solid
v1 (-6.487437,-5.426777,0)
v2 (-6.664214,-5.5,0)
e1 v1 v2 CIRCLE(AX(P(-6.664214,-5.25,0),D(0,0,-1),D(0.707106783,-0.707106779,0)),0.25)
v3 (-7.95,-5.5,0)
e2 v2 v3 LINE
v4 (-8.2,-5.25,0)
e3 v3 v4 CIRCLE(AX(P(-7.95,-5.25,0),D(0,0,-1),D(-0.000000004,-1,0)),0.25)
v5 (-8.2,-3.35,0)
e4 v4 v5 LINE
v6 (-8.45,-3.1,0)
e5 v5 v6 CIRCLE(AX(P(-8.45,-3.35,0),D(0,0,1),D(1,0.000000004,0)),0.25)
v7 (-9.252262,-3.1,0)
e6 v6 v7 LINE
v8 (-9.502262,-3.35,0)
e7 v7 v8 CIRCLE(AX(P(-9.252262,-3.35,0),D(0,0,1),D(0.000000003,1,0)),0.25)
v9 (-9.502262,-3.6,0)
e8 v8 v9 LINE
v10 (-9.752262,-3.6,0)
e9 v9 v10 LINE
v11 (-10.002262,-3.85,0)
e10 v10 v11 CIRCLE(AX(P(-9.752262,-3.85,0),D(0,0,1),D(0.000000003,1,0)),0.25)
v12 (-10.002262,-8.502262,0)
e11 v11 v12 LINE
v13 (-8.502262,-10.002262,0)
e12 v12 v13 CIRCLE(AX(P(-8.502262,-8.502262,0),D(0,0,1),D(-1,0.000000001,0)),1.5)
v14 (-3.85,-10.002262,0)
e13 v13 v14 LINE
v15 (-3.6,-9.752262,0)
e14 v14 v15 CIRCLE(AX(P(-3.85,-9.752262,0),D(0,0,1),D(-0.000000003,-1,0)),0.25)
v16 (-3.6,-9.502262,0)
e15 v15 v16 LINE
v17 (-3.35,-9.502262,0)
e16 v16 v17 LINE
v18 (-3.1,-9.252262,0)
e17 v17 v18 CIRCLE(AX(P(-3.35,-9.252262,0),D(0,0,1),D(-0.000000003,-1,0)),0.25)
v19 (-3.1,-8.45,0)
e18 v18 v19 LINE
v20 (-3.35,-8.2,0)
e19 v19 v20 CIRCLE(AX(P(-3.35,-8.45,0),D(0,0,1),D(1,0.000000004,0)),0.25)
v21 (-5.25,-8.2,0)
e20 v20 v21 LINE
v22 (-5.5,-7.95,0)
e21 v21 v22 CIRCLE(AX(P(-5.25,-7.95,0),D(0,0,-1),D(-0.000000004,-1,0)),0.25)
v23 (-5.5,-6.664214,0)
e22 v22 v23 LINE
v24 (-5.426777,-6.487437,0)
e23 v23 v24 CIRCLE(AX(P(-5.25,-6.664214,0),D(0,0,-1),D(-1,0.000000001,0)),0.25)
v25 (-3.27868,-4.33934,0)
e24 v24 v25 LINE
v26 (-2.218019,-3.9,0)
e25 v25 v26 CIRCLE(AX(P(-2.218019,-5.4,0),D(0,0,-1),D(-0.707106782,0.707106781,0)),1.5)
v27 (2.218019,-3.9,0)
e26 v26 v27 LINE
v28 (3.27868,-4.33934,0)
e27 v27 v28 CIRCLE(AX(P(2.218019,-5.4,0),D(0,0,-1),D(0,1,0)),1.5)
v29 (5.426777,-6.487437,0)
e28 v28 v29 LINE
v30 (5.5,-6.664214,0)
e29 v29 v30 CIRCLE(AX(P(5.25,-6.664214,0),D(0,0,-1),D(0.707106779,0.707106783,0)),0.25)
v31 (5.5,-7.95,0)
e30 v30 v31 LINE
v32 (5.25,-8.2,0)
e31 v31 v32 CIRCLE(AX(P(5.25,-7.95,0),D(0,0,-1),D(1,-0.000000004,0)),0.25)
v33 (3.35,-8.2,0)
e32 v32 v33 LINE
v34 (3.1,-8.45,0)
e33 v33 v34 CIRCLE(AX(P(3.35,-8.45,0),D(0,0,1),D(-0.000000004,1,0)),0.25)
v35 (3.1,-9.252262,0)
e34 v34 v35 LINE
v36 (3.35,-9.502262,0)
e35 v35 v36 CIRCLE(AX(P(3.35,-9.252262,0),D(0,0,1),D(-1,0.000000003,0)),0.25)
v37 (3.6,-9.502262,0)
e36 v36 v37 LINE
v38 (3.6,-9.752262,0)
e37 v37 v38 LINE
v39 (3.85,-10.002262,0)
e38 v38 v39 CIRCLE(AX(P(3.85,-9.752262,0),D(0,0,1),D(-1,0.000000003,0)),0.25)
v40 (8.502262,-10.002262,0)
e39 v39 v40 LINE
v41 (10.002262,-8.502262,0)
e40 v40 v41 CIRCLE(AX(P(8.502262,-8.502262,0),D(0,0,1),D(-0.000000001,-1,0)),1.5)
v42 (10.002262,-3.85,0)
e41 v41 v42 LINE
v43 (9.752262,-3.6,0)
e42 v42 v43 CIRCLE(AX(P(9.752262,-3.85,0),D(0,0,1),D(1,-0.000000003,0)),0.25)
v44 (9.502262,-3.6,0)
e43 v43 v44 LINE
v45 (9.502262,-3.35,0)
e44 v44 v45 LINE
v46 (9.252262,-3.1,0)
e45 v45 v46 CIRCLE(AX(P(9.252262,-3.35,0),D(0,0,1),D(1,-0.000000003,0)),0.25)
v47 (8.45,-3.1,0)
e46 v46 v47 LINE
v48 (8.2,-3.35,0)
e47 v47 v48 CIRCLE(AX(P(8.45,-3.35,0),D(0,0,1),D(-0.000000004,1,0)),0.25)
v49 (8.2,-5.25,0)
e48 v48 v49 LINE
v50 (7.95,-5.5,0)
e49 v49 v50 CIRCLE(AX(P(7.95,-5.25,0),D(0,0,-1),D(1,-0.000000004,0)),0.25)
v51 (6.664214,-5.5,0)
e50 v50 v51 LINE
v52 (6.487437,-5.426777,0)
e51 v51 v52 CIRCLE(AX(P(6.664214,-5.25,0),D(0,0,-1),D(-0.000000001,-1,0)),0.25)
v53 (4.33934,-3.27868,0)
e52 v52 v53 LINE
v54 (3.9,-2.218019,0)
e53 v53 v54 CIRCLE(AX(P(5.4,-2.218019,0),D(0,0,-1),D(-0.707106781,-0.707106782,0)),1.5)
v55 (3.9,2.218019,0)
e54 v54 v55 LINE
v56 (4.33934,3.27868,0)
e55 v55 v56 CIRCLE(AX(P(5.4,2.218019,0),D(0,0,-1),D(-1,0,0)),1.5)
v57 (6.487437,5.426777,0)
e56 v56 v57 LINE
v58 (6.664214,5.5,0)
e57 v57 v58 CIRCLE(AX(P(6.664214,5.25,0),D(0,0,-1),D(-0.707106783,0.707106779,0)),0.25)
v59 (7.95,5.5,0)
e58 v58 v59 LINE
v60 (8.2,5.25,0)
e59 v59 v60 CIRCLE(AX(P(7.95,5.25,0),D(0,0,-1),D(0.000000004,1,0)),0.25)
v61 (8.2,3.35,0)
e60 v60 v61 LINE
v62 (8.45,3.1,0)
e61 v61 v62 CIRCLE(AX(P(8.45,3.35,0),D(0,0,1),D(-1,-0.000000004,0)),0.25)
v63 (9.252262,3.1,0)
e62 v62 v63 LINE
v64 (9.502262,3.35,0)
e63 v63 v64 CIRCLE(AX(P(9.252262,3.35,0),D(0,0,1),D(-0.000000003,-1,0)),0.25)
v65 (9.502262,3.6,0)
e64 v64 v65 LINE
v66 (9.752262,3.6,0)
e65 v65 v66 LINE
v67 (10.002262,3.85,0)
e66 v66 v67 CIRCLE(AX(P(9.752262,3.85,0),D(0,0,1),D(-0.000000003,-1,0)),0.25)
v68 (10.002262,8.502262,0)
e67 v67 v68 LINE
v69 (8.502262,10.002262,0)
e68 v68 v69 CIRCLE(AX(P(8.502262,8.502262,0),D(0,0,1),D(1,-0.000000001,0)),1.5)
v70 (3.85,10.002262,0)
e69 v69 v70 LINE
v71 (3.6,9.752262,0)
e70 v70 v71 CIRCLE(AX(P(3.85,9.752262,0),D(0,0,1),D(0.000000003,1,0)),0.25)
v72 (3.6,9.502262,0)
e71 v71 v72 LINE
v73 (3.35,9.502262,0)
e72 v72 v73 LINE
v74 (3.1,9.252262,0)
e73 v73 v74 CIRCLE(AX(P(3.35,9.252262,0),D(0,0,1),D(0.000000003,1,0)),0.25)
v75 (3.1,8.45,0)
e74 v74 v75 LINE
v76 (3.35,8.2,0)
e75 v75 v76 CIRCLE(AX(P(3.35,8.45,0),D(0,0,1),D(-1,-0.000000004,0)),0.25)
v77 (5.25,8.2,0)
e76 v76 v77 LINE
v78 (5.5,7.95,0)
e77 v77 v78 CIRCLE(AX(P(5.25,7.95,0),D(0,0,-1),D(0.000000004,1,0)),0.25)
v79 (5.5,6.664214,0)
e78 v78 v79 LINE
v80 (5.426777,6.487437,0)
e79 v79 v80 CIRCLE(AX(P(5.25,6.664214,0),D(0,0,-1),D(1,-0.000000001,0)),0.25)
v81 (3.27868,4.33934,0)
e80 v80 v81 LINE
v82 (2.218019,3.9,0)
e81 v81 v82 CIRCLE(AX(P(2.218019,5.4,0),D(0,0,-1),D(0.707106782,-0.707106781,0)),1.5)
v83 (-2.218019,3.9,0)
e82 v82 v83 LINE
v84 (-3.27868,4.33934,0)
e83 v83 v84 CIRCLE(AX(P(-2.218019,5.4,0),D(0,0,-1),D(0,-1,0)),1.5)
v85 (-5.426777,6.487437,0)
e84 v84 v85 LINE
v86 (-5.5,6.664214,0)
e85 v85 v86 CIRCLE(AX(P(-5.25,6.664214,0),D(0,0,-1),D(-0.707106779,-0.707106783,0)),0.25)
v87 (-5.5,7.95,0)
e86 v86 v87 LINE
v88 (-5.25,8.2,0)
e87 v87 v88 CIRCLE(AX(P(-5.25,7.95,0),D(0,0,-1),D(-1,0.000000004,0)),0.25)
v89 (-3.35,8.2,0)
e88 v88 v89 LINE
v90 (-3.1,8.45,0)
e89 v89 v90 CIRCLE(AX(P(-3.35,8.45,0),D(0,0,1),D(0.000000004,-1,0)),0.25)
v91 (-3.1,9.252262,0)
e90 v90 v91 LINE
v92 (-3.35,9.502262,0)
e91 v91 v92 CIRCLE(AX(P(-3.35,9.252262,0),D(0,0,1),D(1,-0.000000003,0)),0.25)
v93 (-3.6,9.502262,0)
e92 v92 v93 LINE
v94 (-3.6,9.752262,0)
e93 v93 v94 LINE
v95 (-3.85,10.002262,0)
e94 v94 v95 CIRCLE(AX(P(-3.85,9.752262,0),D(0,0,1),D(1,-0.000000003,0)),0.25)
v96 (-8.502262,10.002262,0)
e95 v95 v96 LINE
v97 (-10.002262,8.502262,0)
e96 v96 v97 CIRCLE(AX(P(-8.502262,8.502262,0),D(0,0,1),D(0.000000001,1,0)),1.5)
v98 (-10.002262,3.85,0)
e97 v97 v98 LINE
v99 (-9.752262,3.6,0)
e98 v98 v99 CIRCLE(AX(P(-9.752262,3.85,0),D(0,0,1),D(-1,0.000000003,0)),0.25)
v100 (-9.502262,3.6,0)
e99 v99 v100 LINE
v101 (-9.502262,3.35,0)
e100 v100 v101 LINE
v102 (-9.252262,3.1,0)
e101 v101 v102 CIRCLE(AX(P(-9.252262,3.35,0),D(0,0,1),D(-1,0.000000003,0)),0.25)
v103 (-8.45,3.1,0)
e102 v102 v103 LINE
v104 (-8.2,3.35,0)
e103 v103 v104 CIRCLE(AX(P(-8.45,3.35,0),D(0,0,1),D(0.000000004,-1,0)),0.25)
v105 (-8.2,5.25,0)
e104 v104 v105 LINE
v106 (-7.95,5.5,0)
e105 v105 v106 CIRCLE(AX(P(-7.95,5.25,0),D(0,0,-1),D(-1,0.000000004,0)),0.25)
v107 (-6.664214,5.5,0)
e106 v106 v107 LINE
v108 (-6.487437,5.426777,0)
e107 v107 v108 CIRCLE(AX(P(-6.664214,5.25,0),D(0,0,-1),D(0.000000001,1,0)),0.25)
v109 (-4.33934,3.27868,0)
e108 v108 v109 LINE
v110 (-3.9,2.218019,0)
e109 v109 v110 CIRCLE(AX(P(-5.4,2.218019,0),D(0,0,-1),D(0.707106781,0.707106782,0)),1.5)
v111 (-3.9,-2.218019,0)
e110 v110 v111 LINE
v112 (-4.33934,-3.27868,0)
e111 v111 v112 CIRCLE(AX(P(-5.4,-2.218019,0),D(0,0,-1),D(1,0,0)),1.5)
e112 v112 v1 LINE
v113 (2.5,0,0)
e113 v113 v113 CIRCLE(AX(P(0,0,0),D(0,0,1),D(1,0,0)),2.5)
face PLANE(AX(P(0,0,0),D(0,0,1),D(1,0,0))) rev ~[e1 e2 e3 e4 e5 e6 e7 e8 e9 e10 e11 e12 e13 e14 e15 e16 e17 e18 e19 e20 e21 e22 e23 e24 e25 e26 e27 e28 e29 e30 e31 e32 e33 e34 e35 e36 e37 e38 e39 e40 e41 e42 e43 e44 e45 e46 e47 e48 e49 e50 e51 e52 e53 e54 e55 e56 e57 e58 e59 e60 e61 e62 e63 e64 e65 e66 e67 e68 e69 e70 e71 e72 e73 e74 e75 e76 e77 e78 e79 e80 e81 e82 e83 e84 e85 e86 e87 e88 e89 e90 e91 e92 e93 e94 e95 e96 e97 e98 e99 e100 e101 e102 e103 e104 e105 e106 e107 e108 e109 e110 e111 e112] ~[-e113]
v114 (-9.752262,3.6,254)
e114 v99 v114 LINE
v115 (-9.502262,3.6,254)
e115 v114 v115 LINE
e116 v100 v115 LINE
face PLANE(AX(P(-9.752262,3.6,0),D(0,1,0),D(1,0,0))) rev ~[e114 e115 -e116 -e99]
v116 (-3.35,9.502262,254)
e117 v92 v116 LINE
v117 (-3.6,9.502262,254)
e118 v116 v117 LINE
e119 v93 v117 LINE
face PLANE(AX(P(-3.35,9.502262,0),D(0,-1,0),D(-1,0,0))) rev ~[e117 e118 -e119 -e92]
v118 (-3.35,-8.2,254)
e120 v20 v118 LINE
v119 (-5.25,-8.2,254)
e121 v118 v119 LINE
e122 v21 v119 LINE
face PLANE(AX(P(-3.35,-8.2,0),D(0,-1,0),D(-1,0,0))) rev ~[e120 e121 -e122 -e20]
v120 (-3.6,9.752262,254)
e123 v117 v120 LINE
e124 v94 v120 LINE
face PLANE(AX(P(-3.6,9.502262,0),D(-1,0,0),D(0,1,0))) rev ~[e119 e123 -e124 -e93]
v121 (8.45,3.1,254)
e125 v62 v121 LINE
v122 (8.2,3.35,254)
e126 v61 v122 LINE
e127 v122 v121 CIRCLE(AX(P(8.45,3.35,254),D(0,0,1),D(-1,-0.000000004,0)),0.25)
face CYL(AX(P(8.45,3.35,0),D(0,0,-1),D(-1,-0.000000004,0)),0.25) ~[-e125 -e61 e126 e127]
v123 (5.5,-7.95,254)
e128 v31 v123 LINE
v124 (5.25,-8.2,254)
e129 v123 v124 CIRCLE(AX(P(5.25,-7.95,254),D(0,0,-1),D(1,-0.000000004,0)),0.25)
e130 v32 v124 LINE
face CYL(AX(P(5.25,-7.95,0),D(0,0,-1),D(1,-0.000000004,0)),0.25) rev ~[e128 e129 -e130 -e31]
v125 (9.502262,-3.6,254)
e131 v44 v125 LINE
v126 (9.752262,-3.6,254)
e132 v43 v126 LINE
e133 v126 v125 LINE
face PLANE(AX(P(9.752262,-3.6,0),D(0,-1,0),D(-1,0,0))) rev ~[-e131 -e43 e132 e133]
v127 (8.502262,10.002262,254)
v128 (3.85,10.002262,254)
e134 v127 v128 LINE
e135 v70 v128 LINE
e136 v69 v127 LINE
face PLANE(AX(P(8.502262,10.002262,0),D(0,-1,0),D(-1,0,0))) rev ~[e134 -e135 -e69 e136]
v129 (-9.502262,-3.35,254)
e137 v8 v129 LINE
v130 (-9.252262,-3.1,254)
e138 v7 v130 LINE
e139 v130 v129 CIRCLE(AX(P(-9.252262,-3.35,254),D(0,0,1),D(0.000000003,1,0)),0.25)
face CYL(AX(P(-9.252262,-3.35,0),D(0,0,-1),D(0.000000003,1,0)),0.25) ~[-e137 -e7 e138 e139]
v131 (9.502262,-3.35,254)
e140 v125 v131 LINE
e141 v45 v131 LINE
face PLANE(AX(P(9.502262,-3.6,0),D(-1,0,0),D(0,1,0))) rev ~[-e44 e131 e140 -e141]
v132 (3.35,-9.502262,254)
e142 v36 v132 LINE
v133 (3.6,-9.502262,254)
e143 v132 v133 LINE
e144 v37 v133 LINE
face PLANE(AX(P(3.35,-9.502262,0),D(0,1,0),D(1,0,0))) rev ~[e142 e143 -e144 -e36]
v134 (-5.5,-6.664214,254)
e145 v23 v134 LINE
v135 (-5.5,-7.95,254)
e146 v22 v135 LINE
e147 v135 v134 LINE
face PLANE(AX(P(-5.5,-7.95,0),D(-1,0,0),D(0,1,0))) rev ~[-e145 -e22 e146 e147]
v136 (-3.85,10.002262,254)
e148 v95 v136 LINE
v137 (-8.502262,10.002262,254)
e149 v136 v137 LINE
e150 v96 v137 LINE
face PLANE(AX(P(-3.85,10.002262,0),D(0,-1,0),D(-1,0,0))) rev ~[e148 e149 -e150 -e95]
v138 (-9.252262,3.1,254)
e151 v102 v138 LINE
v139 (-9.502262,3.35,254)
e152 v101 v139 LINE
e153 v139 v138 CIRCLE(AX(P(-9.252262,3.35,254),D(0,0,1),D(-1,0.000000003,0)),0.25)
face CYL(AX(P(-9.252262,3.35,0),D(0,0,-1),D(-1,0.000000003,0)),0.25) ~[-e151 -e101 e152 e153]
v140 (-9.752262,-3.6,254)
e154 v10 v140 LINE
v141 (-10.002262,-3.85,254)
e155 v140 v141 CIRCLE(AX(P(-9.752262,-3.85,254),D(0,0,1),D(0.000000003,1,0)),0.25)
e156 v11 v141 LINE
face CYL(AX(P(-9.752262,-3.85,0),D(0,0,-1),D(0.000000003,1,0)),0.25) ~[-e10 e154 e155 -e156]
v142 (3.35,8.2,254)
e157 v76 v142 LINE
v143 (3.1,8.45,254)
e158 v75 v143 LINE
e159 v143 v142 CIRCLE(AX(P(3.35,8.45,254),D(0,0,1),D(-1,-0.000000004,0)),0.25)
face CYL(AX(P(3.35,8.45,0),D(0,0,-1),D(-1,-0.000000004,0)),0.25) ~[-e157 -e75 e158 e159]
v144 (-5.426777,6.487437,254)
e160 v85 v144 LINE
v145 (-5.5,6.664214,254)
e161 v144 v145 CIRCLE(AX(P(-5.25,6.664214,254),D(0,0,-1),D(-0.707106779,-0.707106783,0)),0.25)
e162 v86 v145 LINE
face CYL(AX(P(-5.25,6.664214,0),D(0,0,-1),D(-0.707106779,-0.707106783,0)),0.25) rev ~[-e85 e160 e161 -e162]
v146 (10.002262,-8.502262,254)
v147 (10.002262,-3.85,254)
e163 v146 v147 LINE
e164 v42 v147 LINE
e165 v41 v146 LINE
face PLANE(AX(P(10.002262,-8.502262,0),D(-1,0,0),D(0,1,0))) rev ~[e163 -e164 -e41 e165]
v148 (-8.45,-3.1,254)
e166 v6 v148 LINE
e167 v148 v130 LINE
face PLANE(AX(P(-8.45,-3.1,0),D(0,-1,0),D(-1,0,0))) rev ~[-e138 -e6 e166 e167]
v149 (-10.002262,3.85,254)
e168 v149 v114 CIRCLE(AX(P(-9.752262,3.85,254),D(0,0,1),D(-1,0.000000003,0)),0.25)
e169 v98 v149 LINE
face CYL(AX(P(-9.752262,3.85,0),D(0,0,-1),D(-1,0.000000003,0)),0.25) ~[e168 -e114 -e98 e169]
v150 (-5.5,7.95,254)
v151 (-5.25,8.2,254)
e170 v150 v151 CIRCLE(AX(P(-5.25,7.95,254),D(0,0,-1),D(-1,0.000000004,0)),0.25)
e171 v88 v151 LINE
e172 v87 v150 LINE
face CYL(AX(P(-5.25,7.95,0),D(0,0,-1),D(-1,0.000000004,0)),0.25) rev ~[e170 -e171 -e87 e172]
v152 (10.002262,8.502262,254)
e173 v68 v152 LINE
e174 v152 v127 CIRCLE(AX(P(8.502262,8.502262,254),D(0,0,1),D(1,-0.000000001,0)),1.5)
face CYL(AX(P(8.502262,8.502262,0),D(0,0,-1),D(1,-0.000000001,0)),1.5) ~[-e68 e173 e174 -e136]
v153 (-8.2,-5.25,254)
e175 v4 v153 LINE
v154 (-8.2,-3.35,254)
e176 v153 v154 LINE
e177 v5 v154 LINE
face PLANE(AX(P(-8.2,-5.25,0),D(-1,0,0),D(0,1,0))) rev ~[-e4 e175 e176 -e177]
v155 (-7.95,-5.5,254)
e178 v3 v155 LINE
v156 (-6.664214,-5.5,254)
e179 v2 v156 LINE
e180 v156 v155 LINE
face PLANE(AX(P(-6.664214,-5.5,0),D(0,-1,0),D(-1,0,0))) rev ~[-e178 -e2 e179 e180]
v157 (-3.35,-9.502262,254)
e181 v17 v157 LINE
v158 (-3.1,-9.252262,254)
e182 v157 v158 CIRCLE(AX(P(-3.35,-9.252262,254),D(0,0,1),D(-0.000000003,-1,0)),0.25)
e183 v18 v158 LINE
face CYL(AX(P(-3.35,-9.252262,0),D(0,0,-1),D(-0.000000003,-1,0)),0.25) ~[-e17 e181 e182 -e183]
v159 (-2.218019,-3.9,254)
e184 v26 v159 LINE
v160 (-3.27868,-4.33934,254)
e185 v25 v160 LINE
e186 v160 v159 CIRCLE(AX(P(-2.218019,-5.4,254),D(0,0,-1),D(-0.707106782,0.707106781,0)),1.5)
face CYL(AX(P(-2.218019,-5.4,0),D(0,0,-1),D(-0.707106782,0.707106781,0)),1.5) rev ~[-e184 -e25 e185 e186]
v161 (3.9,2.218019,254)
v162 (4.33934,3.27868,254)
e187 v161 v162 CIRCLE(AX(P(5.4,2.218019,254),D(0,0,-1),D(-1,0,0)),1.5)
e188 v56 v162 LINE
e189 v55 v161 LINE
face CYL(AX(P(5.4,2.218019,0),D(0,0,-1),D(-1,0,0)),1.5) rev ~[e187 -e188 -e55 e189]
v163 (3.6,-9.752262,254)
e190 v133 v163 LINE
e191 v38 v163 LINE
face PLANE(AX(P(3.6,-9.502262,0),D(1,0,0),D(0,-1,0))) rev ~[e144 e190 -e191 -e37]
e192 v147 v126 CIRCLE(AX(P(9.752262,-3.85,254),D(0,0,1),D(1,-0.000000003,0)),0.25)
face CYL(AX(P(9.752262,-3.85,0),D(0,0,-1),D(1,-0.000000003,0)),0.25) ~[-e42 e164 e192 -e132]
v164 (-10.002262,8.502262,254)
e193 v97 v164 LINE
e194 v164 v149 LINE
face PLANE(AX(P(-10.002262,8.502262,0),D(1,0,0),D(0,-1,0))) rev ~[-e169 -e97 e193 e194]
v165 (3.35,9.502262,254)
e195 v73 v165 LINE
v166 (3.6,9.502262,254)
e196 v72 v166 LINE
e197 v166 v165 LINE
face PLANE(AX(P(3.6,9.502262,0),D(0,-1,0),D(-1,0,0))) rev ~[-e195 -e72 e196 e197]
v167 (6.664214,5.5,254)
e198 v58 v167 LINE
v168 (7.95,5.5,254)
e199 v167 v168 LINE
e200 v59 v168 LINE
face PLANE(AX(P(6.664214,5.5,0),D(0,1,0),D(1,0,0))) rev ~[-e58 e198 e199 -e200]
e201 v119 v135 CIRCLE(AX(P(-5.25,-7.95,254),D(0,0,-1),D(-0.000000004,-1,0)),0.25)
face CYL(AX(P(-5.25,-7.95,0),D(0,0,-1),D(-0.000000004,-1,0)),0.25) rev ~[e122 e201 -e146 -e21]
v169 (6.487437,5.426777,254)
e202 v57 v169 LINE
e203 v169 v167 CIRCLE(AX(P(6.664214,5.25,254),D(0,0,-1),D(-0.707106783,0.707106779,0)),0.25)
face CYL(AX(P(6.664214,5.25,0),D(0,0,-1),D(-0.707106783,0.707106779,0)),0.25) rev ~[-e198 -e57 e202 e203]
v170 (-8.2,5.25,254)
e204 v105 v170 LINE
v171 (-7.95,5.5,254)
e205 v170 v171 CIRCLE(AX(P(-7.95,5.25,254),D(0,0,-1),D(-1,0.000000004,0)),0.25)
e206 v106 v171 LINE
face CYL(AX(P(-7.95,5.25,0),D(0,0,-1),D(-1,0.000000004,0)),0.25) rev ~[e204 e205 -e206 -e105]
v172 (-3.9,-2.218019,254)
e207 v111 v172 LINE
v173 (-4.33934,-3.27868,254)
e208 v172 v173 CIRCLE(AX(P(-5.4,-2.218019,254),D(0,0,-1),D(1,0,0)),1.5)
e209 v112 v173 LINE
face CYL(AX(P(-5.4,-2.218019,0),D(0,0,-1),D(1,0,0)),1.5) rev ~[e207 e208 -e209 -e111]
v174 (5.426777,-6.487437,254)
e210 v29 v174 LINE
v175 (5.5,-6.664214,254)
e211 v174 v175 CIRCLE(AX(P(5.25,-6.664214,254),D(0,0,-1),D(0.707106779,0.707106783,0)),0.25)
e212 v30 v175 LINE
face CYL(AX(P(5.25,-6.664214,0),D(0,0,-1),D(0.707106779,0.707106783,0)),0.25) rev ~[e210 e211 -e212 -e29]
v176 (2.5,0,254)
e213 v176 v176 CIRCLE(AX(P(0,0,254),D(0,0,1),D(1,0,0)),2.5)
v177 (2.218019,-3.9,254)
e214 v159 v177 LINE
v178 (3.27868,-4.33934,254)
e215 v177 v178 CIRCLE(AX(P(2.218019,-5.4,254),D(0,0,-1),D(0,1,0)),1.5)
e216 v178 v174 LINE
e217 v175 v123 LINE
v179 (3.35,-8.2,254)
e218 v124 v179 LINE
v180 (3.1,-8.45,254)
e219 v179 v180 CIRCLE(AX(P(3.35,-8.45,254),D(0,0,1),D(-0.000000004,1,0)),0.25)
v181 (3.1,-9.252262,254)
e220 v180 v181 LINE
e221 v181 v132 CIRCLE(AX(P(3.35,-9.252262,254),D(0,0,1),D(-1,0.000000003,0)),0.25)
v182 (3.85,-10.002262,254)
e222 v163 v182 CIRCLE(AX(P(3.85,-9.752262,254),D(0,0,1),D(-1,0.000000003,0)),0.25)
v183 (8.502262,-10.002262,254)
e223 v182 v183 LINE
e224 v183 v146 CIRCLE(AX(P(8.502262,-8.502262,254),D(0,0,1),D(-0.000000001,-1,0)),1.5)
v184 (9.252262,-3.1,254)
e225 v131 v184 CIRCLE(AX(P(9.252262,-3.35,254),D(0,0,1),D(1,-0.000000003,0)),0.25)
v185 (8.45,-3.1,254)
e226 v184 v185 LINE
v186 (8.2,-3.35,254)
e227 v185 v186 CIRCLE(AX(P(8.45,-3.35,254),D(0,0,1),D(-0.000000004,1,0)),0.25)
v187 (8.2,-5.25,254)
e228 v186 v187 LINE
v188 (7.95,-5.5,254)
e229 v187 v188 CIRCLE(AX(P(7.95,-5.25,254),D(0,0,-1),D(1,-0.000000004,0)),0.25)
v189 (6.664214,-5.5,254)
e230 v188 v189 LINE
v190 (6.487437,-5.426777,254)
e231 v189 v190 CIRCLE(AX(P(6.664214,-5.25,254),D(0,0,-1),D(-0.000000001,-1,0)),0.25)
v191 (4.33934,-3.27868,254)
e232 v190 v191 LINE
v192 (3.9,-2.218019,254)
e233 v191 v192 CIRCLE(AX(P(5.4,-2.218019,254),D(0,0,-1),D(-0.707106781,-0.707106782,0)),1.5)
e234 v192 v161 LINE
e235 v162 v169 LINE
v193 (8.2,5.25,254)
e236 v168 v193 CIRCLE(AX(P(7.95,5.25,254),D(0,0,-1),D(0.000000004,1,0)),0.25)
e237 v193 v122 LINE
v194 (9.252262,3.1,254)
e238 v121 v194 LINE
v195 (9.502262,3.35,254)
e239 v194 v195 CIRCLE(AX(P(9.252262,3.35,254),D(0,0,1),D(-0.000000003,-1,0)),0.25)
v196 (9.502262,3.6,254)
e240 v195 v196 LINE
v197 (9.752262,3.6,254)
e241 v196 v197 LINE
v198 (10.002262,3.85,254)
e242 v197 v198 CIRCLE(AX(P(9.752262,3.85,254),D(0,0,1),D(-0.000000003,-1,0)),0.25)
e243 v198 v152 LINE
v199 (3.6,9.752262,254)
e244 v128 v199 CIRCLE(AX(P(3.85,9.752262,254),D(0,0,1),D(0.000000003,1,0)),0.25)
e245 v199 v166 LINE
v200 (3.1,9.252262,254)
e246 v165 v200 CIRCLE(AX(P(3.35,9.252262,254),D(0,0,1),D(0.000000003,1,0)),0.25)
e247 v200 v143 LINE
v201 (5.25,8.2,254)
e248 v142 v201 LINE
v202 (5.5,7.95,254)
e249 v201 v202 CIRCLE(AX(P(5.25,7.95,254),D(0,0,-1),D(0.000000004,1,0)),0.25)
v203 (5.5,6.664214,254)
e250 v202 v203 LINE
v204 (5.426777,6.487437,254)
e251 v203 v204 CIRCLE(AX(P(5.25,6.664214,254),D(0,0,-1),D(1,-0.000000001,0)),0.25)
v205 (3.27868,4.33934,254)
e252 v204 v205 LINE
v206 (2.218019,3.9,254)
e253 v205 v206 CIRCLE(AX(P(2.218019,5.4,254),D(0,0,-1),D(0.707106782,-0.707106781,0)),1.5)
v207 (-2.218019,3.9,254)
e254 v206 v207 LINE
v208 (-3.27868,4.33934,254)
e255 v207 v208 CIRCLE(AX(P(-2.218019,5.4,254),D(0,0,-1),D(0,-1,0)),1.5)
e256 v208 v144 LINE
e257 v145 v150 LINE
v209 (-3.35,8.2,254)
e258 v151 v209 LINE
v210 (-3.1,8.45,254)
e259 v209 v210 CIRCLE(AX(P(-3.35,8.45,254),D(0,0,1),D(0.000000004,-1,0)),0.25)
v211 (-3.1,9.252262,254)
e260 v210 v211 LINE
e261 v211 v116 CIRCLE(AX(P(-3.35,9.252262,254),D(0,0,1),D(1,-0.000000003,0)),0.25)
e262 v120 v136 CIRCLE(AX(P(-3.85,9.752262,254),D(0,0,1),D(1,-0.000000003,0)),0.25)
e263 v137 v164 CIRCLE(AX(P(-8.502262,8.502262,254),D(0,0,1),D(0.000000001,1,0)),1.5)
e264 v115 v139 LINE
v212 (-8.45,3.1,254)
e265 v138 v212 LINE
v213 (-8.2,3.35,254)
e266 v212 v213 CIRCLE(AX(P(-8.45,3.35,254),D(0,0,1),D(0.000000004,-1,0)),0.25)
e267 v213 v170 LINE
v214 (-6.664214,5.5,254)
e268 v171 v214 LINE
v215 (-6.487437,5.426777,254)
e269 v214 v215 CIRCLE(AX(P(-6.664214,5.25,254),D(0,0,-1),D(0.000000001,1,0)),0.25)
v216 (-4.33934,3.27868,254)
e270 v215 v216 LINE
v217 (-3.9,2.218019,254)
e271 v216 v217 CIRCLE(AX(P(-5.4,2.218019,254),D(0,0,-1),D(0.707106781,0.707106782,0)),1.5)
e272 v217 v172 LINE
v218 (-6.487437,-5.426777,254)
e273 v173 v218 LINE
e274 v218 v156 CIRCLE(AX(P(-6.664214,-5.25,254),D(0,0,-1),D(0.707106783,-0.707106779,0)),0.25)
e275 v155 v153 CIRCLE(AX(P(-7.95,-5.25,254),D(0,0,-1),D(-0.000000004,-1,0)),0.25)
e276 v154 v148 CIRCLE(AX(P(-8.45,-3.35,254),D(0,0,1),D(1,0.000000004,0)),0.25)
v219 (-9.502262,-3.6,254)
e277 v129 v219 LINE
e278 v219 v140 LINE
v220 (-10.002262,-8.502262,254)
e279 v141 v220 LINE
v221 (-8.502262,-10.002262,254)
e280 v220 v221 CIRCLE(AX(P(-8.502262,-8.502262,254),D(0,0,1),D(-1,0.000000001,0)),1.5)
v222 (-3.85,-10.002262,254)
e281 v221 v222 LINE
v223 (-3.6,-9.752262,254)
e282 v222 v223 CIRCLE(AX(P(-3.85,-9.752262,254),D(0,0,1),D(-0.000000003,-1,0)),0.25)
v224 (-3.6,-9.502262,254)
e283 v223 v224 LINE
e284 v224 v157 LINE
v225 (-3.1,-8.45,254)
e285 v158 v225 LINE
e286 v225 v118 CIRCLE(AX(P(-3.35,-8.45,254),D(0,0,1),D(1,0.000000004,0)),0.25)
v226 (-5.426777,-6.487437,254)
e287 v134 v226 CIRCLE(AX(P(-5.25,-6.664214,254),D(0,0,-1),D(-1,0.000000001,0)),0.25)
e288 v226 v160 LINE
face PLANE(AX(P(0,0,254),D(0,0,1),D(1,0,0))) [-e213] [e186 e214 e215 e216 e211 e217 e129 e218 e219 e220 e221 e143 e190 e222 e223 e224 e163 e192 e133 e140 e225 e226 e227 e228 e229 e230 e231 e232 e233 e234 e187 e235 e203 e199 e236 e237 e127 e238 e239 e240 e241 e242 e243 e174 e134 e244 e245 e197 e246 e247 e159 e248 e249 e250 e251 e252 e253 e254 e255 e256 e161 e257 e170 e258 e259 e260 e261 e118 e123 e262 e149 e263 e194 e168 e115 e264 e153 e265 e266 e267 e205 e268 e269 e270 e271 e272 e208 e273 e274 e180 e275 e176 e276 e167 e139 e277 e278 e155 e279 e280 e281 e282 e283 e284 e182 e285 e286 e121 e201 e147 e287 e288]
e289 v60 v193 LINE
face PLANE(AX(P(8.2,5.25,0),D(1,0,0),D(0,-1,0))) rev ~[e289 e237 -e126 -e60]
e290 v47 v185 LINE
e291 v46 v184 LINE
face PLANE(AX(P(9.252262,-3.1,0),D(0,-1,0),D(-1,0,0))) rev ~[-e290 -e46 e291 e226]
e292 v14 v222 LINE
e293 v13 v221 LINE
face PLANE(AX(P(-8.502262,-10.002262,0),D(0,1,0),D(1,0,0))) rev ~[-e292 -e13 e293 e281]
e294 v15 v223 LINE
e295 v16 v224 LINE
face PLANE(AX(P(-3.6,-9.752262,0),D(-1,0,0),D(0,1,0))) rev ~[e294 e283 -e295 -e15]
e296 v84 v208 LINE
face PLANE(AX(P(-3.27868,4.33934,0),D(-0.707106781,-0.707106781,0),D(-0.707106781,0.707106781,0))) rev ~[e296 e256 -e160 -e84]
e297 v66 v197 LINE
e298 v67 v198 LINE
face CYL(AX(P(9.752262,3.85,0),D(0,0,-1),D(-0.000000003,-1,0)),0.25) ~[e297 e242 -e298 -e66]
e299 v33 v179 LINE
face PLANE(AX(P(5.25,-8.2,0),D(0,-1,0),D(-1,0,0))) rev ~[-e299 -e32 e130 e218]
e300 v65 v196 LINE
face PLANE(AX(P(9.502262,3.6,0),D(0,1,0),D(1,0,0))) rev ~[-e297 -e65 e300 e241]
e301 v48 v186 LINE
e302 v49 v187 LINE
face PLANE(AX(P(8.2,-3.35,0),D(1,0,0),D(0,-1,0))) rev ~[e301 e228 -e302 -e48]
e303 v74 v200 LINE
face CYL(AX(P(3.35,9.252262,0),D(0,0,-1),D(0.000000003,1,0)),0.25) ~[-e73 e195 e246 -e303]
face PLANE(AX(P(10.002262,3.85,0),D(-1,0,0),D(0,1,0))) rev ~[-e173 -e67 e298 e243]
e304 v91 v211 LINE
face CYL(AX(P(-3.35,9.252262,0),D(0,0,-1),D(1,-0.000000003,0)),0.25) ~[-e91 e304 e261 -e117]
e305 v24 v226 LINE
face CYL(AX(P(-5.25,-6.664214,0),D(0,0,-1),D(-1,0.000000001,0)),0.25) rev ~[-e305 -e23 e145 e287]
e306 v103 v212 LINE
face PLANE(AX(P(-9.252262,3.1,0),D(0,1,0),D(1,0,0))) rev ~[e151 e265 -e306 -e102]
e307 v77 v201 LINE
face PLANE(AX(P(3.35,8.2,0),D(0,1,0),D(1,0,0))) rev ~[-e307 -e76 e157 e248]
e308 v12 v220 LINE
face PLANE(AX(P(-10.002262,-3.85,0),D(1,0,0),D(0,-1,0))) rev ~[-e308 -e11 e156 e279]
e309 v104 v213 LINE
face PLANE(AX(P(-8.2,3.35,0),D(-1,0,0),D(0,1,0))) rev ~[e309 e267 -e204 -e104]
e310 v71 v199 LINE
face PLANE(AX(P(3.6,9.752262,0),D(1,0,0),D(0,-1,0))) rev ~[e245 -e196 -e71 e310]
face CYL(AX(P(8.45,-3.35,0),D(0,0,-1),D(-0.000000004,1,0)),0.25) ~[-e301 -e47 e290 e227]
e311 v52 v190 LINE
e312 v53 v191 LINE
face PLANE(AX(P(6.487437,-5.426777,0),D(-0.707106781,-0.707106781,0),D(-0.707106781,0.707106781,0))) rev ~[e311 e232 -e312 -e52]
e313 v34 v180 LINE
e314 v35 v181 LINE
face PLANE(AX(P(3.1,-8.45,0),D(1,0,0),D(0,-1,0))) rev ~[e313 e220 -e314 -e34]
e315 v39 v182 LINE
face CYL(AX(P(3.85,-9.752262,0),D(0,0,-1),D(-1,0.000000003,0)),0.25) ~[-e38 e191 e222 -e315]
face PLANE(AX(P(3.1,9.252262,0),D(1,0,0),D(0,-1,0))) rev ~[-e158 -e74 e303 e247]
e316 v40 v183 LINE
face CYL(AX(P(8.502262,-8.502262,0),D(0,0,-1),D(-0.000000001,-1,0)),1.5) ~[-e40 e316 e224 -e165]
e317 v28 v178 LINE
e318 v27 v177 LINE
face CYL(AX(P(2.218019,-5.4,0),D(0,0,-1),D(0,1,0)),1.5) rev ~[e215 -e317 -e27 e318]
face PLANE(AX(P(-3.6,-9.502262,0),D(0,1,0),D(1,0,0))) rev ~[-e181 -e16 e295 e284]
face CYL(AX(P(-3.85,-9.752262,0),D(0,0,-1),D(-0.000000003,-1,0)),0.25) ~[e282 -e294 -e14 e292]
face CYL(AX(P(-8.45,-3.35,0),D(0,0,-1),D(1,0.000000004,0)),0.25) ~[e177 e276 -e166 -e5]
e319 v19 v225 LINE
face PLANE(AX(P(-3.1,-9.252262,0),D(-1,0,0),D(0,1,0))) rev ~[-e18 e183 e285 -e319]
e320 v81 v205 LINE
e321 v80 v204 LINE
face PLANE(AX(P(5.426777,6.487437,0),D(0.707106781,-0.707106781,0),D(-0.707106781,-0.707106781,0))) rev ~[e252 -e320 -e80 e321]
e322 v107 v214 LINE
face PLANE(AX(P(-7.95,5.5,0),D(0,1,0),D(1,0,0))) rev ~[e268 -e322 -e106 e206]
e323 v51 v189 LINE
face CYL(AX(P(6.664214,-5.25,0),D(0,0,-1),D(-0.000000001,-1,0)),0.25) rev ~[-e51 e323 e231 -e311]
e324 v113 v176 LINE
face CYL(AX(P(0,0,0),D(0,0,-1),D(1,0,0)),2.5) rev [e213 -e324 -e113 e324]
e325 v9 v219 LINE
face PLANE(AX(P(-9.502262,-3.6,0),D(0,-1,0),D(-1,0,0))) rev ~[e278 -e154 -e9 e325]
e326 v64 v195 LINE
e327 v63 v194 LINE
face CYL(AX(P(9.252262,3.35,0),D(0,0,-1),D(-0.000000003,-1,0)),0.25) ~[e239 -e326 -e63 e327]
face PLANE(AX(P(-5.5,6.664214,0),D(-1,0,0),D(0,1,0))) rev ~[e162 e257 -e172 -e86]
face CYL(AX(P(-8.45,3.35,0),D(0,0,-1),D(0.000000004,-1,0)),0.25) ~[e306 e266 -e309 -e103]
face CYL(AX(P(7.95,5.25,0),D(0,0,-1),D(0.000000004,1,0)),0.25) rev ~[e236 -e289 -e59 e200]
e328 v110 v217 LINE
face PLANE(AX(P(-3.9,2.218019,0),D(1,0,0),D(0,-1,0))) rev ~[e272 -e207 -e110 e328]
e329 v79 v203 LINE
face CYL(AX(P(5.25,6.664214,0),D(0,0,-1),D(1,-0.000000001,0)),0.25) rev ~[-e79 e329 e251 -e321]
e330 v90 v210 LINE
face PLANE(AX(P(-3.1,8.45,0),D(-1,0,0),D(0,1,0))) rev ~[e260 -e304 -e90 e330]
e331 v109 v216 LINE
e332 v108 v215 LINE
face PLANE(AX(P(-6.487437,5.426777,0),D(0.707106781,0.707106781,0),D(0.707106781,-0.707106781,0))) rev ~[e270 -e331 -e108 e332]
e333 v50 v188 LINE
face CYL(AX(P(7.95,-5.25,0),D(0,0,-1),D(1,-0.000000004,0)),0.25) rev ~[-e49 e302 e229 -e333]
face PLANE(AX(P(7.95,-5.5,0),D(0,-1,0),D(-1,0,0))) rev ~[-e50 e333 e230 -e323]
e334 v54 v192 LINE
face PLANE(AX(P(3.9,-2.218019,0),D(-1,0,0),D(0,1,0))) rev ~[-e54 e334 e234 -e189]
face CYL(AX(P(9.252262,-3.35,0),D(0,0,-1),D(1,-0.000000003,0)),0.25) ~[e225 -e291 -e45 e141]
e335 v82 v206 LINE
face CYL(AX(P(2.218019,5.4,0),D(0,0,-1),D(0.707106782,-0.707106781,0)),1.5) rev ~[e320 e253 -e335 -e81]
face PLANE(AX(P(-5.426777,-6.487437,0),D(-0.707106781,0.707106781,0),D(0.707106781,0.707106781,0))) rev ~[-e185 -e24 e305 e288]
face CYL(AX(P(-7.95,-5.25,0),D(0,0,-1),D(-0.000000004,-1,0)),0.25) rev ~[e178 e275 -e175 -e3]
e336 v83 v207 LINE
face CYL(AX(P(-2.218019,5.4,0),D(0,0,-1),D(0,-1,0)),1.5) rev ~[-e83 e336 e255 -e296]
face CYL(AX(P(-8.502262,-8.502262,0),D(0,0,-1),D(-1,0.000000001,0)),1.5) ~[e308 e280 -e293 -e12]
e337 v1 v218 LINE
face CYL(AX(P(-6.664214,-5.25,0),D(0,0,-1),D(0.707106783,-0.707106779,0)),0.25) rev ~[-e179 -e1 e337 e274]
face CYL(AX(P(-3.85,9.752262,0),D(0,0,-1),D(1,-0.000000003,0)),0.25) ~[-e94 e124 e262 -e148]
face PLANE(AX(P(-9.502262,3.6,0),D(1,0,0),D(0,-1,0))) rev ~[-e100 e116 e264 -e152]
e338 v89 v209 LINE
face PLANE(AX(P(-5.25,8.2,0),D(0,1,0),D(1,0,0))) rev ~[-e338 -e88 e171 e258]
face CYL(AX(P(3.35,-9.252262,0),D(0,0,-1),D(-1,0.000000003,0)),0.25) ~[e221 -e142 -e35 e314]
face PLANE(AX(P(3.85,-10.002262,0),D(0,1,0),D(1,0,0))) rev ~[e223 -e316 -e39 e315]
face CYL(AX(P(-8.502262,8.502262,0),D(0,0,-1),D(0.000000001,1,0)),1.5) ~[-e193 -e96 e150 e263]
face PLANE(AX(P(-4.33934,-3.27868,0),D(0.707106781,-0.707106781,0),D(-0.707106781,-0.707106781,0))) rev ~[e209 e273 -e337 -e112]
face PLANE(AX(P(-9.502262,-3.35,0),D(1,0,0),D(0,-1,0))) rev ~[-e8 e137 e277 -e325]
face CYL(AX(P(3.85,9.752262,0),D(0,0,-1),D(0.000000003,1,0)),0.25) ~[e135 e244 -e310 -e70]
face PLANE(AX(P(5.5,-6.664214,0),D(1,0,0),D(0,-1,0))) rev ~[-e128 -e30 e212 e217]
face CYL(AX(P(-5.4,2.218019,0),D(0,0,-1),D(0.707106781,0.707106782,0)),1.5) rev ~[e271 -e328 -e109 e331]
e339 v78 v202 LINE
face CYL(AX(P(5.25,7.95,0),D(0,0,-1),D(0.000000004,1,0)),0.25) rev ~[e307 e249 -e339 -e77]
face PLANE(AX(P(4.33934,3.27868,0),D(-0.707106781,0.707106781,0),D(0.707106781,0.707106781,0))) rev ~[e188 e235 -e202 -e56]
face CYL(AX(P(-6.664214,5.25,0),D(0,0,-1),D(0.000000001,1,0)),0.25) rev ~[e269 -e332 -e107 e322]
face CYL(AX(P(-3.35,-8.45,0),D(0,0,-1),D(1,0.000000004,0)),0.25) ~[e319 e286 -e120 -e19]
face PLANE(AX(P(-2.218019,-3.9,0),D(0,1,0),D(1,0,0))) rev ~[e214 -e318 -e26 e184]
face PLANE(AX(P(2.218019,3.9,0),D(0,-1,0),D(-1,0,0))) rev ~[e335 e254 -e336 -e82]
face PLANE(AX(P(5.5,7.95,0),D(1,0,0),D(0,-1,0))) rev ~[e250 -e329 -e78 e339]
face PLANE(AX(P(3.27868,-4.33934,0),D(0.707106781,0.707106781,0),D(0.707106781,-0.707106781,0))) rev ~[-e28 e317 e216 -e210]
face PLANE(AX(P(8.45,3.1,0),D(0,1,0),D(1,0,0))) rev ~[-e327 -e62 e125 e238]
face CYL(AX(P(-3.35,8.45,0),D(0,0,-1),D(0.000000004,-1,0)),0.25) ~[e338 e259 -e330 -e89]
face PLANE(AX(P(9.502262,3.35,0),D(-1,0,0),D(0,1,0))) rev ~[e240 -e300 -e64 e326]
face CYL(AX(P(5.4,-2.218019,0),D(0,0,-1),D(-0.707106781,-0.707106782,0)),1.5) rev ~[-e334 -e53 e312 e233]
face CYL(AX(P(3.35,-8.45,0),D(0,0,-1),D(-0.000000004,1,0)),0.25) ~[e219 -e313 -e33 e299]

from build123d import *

# Parameters (mm, degrees)
SKETCH_1_R      = 2.5
EXTRUDE_1_DEPTH = 254


with BuildPart() as part:
    # 草图1 → 凸台-拉伸1 (new body)
    with BuildSketch(Plane.XY):
        with BuildLine():
            Line((-8.502261885, -10.002261885), (-3.85, -10.002261885))
            ThreePointArc((-3.85, -10.002261885), (-3.673223305, -9.929038581), (-3.6, -9.752261885))
            Line((-3.6, -9.752261885), (-3.6, -9.502261885))
            Line((-3.6, -9.502261885), (-3.35, -9.502261885))
            ThreePointArc((-3.35, -9.502261885), (-3.173223305, -9.429038581), (-3.1, -9.252261885))
            Line((-3.1, -9.252261885), (-3.1, -8.45))
            ThreePointArc((-3.1, -8.45), (-3.173223305, -8.273223305), (-3.35, -8.2))
            Line((-3.35, -8.2), (-5.25, -8.2))
            ThreePointArc((-5.25, -8.2), (-5.426776695, -8.126776695), (-5.5, -7.95))
            Line((-5.5, -7.95), (-5.5, -6.664213562))
            ThreePointArc((-5.5, -6.664213562), (-5.480969883, -6.568542704), (-5.426776695, -6.487436867))
            Line((-5.426776695, -6.487436867), (-3.278679656, -4.339339828))
            ThreePointArc((-3.278679656, -4.339339828), (-2.792044633, -4.014180701), (-2.218019485, -3.9))
            Line((-2.218019485, -3.9), (2.218019485, -3.9))
            ThreePointArc((2.218019485, -3.9), (2.792044633, -4.014180701), (3.278679656, -4.339339828))
            Line((3.278679656, -4.339339828), (5.426776695, -6.487436867))
            ThreePointArc((5.426776695, -6.487436867), (5.480969883, -6.568542704), (5.5, -6.664213562))
            Line((5.5, -6.664213562), (5.5, -7.95))
            ThreePointArc((5.5, -7.95), (5.426776695, -8.126776695), (5.25, -8.2))
            Line((5.25, -8.2), (3.35, -8.2))
            ThreePointArc((3.35, -8.2), (3.173223305, -8.273223305), (3.1, -8.45))
            Line((3.1, -8.45), (3.1, -9.252261885))
            ThreePointArc((3.1, -9.252261885), (3.173223305, -9.429038581), (3.35, -9.502261885))
            Line((3.35, -9.502261885), (3.6, -9.502261885))
            Line((3.6, -9.502261885), (3.6, -9.752261885))
            ThreePointArc((3.6, -9.752261885), (3.673223305, -9.929038581), (3.85, -10.002261885))
            Line((3.85, -10.002261885), (8.502261885, -10.002261885))
            ThreePointArc((8.502261885, -10.002261885), (9.562922057, -9.562922057), (10.002261885, -8.502261885))
            Line((10.002261885, -8.502261885), (10.002261885, -3.85))
            ThreePointArc((10.002261885, -3.85), (9.929038581, -3.673223305), (9.752261885, -3.6))
            Line((9.752261885, -3.6), (9.502261885, -3.6))
            Line((9.502261885, -3.6), (9.502261885, -3.35))
            ThreePointArc((9.502261885, -3.35), (9.429038581, -3.173223305), (9.252261885, -3.1))
            Line((9.252261885, -3.1), (8.45, -3.1))
            ThreePointArc((8.45, -3.1), (8.273223305, -3.173223305), (8.2, -3.35))
            Line((8.2, -3.35), (8.2, -5.25))
            ThreePointArc((8.2, -5.25), (8.126776695, -5.426776695), (7.95, -5.5))
            Line((7.95, -5.5), (6.664213562, -5.5))
            ThreePointArc((6.664213562, -5.5), (6.568542704, -5.480969883), (6.487436867, -5.426776695))
            Line((6.487436867, -5.426776695), (4.339339828, -3.278679656))
            ThreePointArc((4.339339828, -3.278679656), (4.014180701, -2.792044633), (3.9, -2.218019485))
            Line((3.9, -2.218019485), (3.9, 2.218019485))
            ThreePointArc((3.9, 2.218019485), (4.014180701, 2.792044633), (4.339339828, 3.278679656))
            Line((4.339339828, 3.278679656), (6.487436867, 5.426776695))
            ThreePointArc((6.487436867, 5.426776695), (6.568542704, 5.480969883), (6.664213562, 5.5))
            Line((6.664213562, 5.5), (7.95, 5.5))
            ThreePointArc((7.95, 5.5), (8.126776695, 5.426776695), (8.2, 5.25))
            Line((8.2, 5.25), (8.2, 3.35))
            ThreePointArc((8.2, 3.35), (8.273223305, 3.173223305), (8.45, 3.1))
            Line((8.45, 3.1), (9.252261885, 3.1))
            ThreePointArc((9.252261885, 3.1), (9.429038581, 3.173223305), (9.502261885, 3.35))
            Line((9.502261885, 3.35), (9.502261885, 3.6))
            Line((9.502261885, 3.6), (9.752261885, 3.6))
            ThreePointArc((9.752261885, 3.6), (9.929038581, 3.673223305), (10.002261885, 3.85))
            Line((10.002261885, 3.85), (10.002261885, 8.502261885))
            ThreePointArc((10.002261885, 8.502261885), (9.562922057, 9.562922057), (8.502261885, 10.002261885))
            Line((8.502261885, 10.002261885), (3.85, 10.002261885))
            ThreePointArc((3.85, 10.002261885), (3.673223305, 9.929038581), (3.6, 9.752261885))
            Line((3.6, 9.752261885), (3.6, 9.502261885))
            Line((3.6, 9.502261885), (3.35, 9.502261885))
            ThreePointArc((3.35, 9.502261885), (3.173223305, 9.429038581), (3.1, 9.252261885))
            Line((3.1, 9.252261885), (3.1, 8.45))
            ThreePointArc((3.1, 8.45), (3.173223305, 8.273223305), (3.35, 8.2))
            Line((3.35, 8.2), (5.25, 8.2))
            ThreePointArc((5.25, 8.2), (5.426776695, 8.126776695), (5.5, 7.95))
            Line((5.5, 7.95), (5.5, 6.664213562))
            ThreePointArc((5.5, 6.664213562), (5.480969883, 6.568542704), (5.426776695, 6.487436867))
            Line((5.426776695, 6.487436867), (3.278679656, 4.339339828))
            ThreePointArc((3.278679656, 4.339339828), (2.792044633, 4.014180701), (2.218019485, 3.9))
            Line((2.218019485, 3.9), (-2.218019485, 3.9))
            ThreePointArc((-2.218019485, 3.9), (-2.792044633, 4.014180701), (-3.278679656, 4.339339828))
            Line((-3.278679656, 4.339339828), (-5.426776695, 6.487436867))
            ThreePointArc((-5.426776695, 6.487436867), (-5.480969883, 6.568542704), (-5.5, 6.664213562))
            Line((-5.5, 6.664213562), (-5.5, 7.95))
            ThreePointArc((-5.5, 7.95), (-5.426776695, 8.126776695), (-5.25, 8.2))
            Line((-5.25, 8.2), (-3.35, 8.2))
            ThreePointArc((-3.35, 8.2), (-3.173223305, 8.273223305), (-3.1, 8.45))
            Line((-3.1, 8.45), (-3.1, 9.252261885))
            ThreePointArc((-3.1, 9.252261885), (-3.173223305, 9.429038581), (-3.35, 9.502261885))
            Line((-3.35, 9.502261885), (-3.6, 9.502261885))
            Line((-3.6, 9.502261885), (-3.6, 9.752261885))
            ThreePointArc((-3.6, 9.752261885), (-3.673223305, 9.929038581), (-3.85, 10.002261885))
            Line((-3.85, 10.002261885), (-8.502261885, 10.002261885))
            ThreePointArc((-8.502261885, 10.002261885), (-9.562922057, 9.562922057), (-10.002261885, 8.502261885))
            Line((-10.002261885, 8.502261885), (-10.002261885, 3.85))
            ThreePointArc((-10.002261885, 3.85), (-9.929038581, 3.673223305), (-9.752261885, 3.6))
            Line((-9.752261885, 3.6), (-9.502261885, 3.6))
            Line((-9.502261885, 3.6), (-9.502261885, 3.35))
            ThreePointArc((-9.502261885, 3.35), (-9.429038581, 3.173223305), (-9.252261885, 3.1))
            Line((-9.252261885, 3.1), (-8.45, 3.1))
            ThreePointArc((-8.45, 3.1), (-8.273223305, 3.173223305), (-8.2, 3.35))
            Line((-8.2, 3.35), (-8.2, 5.25))
            ThreePointArc((-8.2, 5.25), (-8.126776695, 5.426776695), (-7.95, 5.5))
            Line((-7.95, 5.5), (-6.664213562, 5.5))
            ThreePointArc((-6.664213562, 5.5), (-6.568542704, 5.480969883), (-6.487436867, 5.426776695))
            Line((-6.487436867, 5.426776695), (-4.339339828, 3.278679656))
            ThreePointArc((-4.339339828, 3.278679656), (-4.014180701, 2.792044633), (-3.9, 2.218019485))
            Line((-3.9, 2.218019485), (-3.9, -2.218019485))
            ThreePointArc((-3.9, -2.218019485), (-4.014180701, -2.792044633), (-4.339339828, -3.278679656))
            Line((-4.339339828, -3.278679656), (-6.487436867, -5.426776695))
            ThreePointArc((-6.487436867, -5.426776695), (-6.568542704, -5.480969883), (-6.664213562, -5.5))
            Line((-6.664213562, -5.5), (-7.95, -5.5))
            ThreePointArc((-7.95, -5.5), (-8.126776695, -5.426776695), (-8.2, -5.25))
            Line((-8.2, -5.25), (-8.2, -3.35))
            ThreePointArc((-8.2, -3.35), (-8.273223305, -3.173223305), (-8.45, -3.1))
            Line((-8.45, -3.1), (-9.252261885, -3.1))
            ThreePointArc((-9.252261885, -3.1), (-9.429038581, -3.173223305), (-9.502261885, -3.35))
            Line((-9.502261885, -3.35), (-9.502261885, -3.6))
            Line((-9.502261885, -3.6), (-9.752261885, -3.6))
            ThreePointArc((-9.752261885, -3.6), (-9.929038581, -3.673223305), (-10.002261885, -3.85))
            Line((-10.002261885, -3.85), (-10.002261885, -8.502261885))
            ThreePointArc((-10.002261885, -8.502261885), (-9.562922057, -9.562922057), (-8.502261885, -10.002261885))
        make_face()
        Circle(SKETCH_1_R, mode=Mode.SUBTRACT)
    extrude(amount=EXTRUDE_1_DEPTH)


solid = part.part
